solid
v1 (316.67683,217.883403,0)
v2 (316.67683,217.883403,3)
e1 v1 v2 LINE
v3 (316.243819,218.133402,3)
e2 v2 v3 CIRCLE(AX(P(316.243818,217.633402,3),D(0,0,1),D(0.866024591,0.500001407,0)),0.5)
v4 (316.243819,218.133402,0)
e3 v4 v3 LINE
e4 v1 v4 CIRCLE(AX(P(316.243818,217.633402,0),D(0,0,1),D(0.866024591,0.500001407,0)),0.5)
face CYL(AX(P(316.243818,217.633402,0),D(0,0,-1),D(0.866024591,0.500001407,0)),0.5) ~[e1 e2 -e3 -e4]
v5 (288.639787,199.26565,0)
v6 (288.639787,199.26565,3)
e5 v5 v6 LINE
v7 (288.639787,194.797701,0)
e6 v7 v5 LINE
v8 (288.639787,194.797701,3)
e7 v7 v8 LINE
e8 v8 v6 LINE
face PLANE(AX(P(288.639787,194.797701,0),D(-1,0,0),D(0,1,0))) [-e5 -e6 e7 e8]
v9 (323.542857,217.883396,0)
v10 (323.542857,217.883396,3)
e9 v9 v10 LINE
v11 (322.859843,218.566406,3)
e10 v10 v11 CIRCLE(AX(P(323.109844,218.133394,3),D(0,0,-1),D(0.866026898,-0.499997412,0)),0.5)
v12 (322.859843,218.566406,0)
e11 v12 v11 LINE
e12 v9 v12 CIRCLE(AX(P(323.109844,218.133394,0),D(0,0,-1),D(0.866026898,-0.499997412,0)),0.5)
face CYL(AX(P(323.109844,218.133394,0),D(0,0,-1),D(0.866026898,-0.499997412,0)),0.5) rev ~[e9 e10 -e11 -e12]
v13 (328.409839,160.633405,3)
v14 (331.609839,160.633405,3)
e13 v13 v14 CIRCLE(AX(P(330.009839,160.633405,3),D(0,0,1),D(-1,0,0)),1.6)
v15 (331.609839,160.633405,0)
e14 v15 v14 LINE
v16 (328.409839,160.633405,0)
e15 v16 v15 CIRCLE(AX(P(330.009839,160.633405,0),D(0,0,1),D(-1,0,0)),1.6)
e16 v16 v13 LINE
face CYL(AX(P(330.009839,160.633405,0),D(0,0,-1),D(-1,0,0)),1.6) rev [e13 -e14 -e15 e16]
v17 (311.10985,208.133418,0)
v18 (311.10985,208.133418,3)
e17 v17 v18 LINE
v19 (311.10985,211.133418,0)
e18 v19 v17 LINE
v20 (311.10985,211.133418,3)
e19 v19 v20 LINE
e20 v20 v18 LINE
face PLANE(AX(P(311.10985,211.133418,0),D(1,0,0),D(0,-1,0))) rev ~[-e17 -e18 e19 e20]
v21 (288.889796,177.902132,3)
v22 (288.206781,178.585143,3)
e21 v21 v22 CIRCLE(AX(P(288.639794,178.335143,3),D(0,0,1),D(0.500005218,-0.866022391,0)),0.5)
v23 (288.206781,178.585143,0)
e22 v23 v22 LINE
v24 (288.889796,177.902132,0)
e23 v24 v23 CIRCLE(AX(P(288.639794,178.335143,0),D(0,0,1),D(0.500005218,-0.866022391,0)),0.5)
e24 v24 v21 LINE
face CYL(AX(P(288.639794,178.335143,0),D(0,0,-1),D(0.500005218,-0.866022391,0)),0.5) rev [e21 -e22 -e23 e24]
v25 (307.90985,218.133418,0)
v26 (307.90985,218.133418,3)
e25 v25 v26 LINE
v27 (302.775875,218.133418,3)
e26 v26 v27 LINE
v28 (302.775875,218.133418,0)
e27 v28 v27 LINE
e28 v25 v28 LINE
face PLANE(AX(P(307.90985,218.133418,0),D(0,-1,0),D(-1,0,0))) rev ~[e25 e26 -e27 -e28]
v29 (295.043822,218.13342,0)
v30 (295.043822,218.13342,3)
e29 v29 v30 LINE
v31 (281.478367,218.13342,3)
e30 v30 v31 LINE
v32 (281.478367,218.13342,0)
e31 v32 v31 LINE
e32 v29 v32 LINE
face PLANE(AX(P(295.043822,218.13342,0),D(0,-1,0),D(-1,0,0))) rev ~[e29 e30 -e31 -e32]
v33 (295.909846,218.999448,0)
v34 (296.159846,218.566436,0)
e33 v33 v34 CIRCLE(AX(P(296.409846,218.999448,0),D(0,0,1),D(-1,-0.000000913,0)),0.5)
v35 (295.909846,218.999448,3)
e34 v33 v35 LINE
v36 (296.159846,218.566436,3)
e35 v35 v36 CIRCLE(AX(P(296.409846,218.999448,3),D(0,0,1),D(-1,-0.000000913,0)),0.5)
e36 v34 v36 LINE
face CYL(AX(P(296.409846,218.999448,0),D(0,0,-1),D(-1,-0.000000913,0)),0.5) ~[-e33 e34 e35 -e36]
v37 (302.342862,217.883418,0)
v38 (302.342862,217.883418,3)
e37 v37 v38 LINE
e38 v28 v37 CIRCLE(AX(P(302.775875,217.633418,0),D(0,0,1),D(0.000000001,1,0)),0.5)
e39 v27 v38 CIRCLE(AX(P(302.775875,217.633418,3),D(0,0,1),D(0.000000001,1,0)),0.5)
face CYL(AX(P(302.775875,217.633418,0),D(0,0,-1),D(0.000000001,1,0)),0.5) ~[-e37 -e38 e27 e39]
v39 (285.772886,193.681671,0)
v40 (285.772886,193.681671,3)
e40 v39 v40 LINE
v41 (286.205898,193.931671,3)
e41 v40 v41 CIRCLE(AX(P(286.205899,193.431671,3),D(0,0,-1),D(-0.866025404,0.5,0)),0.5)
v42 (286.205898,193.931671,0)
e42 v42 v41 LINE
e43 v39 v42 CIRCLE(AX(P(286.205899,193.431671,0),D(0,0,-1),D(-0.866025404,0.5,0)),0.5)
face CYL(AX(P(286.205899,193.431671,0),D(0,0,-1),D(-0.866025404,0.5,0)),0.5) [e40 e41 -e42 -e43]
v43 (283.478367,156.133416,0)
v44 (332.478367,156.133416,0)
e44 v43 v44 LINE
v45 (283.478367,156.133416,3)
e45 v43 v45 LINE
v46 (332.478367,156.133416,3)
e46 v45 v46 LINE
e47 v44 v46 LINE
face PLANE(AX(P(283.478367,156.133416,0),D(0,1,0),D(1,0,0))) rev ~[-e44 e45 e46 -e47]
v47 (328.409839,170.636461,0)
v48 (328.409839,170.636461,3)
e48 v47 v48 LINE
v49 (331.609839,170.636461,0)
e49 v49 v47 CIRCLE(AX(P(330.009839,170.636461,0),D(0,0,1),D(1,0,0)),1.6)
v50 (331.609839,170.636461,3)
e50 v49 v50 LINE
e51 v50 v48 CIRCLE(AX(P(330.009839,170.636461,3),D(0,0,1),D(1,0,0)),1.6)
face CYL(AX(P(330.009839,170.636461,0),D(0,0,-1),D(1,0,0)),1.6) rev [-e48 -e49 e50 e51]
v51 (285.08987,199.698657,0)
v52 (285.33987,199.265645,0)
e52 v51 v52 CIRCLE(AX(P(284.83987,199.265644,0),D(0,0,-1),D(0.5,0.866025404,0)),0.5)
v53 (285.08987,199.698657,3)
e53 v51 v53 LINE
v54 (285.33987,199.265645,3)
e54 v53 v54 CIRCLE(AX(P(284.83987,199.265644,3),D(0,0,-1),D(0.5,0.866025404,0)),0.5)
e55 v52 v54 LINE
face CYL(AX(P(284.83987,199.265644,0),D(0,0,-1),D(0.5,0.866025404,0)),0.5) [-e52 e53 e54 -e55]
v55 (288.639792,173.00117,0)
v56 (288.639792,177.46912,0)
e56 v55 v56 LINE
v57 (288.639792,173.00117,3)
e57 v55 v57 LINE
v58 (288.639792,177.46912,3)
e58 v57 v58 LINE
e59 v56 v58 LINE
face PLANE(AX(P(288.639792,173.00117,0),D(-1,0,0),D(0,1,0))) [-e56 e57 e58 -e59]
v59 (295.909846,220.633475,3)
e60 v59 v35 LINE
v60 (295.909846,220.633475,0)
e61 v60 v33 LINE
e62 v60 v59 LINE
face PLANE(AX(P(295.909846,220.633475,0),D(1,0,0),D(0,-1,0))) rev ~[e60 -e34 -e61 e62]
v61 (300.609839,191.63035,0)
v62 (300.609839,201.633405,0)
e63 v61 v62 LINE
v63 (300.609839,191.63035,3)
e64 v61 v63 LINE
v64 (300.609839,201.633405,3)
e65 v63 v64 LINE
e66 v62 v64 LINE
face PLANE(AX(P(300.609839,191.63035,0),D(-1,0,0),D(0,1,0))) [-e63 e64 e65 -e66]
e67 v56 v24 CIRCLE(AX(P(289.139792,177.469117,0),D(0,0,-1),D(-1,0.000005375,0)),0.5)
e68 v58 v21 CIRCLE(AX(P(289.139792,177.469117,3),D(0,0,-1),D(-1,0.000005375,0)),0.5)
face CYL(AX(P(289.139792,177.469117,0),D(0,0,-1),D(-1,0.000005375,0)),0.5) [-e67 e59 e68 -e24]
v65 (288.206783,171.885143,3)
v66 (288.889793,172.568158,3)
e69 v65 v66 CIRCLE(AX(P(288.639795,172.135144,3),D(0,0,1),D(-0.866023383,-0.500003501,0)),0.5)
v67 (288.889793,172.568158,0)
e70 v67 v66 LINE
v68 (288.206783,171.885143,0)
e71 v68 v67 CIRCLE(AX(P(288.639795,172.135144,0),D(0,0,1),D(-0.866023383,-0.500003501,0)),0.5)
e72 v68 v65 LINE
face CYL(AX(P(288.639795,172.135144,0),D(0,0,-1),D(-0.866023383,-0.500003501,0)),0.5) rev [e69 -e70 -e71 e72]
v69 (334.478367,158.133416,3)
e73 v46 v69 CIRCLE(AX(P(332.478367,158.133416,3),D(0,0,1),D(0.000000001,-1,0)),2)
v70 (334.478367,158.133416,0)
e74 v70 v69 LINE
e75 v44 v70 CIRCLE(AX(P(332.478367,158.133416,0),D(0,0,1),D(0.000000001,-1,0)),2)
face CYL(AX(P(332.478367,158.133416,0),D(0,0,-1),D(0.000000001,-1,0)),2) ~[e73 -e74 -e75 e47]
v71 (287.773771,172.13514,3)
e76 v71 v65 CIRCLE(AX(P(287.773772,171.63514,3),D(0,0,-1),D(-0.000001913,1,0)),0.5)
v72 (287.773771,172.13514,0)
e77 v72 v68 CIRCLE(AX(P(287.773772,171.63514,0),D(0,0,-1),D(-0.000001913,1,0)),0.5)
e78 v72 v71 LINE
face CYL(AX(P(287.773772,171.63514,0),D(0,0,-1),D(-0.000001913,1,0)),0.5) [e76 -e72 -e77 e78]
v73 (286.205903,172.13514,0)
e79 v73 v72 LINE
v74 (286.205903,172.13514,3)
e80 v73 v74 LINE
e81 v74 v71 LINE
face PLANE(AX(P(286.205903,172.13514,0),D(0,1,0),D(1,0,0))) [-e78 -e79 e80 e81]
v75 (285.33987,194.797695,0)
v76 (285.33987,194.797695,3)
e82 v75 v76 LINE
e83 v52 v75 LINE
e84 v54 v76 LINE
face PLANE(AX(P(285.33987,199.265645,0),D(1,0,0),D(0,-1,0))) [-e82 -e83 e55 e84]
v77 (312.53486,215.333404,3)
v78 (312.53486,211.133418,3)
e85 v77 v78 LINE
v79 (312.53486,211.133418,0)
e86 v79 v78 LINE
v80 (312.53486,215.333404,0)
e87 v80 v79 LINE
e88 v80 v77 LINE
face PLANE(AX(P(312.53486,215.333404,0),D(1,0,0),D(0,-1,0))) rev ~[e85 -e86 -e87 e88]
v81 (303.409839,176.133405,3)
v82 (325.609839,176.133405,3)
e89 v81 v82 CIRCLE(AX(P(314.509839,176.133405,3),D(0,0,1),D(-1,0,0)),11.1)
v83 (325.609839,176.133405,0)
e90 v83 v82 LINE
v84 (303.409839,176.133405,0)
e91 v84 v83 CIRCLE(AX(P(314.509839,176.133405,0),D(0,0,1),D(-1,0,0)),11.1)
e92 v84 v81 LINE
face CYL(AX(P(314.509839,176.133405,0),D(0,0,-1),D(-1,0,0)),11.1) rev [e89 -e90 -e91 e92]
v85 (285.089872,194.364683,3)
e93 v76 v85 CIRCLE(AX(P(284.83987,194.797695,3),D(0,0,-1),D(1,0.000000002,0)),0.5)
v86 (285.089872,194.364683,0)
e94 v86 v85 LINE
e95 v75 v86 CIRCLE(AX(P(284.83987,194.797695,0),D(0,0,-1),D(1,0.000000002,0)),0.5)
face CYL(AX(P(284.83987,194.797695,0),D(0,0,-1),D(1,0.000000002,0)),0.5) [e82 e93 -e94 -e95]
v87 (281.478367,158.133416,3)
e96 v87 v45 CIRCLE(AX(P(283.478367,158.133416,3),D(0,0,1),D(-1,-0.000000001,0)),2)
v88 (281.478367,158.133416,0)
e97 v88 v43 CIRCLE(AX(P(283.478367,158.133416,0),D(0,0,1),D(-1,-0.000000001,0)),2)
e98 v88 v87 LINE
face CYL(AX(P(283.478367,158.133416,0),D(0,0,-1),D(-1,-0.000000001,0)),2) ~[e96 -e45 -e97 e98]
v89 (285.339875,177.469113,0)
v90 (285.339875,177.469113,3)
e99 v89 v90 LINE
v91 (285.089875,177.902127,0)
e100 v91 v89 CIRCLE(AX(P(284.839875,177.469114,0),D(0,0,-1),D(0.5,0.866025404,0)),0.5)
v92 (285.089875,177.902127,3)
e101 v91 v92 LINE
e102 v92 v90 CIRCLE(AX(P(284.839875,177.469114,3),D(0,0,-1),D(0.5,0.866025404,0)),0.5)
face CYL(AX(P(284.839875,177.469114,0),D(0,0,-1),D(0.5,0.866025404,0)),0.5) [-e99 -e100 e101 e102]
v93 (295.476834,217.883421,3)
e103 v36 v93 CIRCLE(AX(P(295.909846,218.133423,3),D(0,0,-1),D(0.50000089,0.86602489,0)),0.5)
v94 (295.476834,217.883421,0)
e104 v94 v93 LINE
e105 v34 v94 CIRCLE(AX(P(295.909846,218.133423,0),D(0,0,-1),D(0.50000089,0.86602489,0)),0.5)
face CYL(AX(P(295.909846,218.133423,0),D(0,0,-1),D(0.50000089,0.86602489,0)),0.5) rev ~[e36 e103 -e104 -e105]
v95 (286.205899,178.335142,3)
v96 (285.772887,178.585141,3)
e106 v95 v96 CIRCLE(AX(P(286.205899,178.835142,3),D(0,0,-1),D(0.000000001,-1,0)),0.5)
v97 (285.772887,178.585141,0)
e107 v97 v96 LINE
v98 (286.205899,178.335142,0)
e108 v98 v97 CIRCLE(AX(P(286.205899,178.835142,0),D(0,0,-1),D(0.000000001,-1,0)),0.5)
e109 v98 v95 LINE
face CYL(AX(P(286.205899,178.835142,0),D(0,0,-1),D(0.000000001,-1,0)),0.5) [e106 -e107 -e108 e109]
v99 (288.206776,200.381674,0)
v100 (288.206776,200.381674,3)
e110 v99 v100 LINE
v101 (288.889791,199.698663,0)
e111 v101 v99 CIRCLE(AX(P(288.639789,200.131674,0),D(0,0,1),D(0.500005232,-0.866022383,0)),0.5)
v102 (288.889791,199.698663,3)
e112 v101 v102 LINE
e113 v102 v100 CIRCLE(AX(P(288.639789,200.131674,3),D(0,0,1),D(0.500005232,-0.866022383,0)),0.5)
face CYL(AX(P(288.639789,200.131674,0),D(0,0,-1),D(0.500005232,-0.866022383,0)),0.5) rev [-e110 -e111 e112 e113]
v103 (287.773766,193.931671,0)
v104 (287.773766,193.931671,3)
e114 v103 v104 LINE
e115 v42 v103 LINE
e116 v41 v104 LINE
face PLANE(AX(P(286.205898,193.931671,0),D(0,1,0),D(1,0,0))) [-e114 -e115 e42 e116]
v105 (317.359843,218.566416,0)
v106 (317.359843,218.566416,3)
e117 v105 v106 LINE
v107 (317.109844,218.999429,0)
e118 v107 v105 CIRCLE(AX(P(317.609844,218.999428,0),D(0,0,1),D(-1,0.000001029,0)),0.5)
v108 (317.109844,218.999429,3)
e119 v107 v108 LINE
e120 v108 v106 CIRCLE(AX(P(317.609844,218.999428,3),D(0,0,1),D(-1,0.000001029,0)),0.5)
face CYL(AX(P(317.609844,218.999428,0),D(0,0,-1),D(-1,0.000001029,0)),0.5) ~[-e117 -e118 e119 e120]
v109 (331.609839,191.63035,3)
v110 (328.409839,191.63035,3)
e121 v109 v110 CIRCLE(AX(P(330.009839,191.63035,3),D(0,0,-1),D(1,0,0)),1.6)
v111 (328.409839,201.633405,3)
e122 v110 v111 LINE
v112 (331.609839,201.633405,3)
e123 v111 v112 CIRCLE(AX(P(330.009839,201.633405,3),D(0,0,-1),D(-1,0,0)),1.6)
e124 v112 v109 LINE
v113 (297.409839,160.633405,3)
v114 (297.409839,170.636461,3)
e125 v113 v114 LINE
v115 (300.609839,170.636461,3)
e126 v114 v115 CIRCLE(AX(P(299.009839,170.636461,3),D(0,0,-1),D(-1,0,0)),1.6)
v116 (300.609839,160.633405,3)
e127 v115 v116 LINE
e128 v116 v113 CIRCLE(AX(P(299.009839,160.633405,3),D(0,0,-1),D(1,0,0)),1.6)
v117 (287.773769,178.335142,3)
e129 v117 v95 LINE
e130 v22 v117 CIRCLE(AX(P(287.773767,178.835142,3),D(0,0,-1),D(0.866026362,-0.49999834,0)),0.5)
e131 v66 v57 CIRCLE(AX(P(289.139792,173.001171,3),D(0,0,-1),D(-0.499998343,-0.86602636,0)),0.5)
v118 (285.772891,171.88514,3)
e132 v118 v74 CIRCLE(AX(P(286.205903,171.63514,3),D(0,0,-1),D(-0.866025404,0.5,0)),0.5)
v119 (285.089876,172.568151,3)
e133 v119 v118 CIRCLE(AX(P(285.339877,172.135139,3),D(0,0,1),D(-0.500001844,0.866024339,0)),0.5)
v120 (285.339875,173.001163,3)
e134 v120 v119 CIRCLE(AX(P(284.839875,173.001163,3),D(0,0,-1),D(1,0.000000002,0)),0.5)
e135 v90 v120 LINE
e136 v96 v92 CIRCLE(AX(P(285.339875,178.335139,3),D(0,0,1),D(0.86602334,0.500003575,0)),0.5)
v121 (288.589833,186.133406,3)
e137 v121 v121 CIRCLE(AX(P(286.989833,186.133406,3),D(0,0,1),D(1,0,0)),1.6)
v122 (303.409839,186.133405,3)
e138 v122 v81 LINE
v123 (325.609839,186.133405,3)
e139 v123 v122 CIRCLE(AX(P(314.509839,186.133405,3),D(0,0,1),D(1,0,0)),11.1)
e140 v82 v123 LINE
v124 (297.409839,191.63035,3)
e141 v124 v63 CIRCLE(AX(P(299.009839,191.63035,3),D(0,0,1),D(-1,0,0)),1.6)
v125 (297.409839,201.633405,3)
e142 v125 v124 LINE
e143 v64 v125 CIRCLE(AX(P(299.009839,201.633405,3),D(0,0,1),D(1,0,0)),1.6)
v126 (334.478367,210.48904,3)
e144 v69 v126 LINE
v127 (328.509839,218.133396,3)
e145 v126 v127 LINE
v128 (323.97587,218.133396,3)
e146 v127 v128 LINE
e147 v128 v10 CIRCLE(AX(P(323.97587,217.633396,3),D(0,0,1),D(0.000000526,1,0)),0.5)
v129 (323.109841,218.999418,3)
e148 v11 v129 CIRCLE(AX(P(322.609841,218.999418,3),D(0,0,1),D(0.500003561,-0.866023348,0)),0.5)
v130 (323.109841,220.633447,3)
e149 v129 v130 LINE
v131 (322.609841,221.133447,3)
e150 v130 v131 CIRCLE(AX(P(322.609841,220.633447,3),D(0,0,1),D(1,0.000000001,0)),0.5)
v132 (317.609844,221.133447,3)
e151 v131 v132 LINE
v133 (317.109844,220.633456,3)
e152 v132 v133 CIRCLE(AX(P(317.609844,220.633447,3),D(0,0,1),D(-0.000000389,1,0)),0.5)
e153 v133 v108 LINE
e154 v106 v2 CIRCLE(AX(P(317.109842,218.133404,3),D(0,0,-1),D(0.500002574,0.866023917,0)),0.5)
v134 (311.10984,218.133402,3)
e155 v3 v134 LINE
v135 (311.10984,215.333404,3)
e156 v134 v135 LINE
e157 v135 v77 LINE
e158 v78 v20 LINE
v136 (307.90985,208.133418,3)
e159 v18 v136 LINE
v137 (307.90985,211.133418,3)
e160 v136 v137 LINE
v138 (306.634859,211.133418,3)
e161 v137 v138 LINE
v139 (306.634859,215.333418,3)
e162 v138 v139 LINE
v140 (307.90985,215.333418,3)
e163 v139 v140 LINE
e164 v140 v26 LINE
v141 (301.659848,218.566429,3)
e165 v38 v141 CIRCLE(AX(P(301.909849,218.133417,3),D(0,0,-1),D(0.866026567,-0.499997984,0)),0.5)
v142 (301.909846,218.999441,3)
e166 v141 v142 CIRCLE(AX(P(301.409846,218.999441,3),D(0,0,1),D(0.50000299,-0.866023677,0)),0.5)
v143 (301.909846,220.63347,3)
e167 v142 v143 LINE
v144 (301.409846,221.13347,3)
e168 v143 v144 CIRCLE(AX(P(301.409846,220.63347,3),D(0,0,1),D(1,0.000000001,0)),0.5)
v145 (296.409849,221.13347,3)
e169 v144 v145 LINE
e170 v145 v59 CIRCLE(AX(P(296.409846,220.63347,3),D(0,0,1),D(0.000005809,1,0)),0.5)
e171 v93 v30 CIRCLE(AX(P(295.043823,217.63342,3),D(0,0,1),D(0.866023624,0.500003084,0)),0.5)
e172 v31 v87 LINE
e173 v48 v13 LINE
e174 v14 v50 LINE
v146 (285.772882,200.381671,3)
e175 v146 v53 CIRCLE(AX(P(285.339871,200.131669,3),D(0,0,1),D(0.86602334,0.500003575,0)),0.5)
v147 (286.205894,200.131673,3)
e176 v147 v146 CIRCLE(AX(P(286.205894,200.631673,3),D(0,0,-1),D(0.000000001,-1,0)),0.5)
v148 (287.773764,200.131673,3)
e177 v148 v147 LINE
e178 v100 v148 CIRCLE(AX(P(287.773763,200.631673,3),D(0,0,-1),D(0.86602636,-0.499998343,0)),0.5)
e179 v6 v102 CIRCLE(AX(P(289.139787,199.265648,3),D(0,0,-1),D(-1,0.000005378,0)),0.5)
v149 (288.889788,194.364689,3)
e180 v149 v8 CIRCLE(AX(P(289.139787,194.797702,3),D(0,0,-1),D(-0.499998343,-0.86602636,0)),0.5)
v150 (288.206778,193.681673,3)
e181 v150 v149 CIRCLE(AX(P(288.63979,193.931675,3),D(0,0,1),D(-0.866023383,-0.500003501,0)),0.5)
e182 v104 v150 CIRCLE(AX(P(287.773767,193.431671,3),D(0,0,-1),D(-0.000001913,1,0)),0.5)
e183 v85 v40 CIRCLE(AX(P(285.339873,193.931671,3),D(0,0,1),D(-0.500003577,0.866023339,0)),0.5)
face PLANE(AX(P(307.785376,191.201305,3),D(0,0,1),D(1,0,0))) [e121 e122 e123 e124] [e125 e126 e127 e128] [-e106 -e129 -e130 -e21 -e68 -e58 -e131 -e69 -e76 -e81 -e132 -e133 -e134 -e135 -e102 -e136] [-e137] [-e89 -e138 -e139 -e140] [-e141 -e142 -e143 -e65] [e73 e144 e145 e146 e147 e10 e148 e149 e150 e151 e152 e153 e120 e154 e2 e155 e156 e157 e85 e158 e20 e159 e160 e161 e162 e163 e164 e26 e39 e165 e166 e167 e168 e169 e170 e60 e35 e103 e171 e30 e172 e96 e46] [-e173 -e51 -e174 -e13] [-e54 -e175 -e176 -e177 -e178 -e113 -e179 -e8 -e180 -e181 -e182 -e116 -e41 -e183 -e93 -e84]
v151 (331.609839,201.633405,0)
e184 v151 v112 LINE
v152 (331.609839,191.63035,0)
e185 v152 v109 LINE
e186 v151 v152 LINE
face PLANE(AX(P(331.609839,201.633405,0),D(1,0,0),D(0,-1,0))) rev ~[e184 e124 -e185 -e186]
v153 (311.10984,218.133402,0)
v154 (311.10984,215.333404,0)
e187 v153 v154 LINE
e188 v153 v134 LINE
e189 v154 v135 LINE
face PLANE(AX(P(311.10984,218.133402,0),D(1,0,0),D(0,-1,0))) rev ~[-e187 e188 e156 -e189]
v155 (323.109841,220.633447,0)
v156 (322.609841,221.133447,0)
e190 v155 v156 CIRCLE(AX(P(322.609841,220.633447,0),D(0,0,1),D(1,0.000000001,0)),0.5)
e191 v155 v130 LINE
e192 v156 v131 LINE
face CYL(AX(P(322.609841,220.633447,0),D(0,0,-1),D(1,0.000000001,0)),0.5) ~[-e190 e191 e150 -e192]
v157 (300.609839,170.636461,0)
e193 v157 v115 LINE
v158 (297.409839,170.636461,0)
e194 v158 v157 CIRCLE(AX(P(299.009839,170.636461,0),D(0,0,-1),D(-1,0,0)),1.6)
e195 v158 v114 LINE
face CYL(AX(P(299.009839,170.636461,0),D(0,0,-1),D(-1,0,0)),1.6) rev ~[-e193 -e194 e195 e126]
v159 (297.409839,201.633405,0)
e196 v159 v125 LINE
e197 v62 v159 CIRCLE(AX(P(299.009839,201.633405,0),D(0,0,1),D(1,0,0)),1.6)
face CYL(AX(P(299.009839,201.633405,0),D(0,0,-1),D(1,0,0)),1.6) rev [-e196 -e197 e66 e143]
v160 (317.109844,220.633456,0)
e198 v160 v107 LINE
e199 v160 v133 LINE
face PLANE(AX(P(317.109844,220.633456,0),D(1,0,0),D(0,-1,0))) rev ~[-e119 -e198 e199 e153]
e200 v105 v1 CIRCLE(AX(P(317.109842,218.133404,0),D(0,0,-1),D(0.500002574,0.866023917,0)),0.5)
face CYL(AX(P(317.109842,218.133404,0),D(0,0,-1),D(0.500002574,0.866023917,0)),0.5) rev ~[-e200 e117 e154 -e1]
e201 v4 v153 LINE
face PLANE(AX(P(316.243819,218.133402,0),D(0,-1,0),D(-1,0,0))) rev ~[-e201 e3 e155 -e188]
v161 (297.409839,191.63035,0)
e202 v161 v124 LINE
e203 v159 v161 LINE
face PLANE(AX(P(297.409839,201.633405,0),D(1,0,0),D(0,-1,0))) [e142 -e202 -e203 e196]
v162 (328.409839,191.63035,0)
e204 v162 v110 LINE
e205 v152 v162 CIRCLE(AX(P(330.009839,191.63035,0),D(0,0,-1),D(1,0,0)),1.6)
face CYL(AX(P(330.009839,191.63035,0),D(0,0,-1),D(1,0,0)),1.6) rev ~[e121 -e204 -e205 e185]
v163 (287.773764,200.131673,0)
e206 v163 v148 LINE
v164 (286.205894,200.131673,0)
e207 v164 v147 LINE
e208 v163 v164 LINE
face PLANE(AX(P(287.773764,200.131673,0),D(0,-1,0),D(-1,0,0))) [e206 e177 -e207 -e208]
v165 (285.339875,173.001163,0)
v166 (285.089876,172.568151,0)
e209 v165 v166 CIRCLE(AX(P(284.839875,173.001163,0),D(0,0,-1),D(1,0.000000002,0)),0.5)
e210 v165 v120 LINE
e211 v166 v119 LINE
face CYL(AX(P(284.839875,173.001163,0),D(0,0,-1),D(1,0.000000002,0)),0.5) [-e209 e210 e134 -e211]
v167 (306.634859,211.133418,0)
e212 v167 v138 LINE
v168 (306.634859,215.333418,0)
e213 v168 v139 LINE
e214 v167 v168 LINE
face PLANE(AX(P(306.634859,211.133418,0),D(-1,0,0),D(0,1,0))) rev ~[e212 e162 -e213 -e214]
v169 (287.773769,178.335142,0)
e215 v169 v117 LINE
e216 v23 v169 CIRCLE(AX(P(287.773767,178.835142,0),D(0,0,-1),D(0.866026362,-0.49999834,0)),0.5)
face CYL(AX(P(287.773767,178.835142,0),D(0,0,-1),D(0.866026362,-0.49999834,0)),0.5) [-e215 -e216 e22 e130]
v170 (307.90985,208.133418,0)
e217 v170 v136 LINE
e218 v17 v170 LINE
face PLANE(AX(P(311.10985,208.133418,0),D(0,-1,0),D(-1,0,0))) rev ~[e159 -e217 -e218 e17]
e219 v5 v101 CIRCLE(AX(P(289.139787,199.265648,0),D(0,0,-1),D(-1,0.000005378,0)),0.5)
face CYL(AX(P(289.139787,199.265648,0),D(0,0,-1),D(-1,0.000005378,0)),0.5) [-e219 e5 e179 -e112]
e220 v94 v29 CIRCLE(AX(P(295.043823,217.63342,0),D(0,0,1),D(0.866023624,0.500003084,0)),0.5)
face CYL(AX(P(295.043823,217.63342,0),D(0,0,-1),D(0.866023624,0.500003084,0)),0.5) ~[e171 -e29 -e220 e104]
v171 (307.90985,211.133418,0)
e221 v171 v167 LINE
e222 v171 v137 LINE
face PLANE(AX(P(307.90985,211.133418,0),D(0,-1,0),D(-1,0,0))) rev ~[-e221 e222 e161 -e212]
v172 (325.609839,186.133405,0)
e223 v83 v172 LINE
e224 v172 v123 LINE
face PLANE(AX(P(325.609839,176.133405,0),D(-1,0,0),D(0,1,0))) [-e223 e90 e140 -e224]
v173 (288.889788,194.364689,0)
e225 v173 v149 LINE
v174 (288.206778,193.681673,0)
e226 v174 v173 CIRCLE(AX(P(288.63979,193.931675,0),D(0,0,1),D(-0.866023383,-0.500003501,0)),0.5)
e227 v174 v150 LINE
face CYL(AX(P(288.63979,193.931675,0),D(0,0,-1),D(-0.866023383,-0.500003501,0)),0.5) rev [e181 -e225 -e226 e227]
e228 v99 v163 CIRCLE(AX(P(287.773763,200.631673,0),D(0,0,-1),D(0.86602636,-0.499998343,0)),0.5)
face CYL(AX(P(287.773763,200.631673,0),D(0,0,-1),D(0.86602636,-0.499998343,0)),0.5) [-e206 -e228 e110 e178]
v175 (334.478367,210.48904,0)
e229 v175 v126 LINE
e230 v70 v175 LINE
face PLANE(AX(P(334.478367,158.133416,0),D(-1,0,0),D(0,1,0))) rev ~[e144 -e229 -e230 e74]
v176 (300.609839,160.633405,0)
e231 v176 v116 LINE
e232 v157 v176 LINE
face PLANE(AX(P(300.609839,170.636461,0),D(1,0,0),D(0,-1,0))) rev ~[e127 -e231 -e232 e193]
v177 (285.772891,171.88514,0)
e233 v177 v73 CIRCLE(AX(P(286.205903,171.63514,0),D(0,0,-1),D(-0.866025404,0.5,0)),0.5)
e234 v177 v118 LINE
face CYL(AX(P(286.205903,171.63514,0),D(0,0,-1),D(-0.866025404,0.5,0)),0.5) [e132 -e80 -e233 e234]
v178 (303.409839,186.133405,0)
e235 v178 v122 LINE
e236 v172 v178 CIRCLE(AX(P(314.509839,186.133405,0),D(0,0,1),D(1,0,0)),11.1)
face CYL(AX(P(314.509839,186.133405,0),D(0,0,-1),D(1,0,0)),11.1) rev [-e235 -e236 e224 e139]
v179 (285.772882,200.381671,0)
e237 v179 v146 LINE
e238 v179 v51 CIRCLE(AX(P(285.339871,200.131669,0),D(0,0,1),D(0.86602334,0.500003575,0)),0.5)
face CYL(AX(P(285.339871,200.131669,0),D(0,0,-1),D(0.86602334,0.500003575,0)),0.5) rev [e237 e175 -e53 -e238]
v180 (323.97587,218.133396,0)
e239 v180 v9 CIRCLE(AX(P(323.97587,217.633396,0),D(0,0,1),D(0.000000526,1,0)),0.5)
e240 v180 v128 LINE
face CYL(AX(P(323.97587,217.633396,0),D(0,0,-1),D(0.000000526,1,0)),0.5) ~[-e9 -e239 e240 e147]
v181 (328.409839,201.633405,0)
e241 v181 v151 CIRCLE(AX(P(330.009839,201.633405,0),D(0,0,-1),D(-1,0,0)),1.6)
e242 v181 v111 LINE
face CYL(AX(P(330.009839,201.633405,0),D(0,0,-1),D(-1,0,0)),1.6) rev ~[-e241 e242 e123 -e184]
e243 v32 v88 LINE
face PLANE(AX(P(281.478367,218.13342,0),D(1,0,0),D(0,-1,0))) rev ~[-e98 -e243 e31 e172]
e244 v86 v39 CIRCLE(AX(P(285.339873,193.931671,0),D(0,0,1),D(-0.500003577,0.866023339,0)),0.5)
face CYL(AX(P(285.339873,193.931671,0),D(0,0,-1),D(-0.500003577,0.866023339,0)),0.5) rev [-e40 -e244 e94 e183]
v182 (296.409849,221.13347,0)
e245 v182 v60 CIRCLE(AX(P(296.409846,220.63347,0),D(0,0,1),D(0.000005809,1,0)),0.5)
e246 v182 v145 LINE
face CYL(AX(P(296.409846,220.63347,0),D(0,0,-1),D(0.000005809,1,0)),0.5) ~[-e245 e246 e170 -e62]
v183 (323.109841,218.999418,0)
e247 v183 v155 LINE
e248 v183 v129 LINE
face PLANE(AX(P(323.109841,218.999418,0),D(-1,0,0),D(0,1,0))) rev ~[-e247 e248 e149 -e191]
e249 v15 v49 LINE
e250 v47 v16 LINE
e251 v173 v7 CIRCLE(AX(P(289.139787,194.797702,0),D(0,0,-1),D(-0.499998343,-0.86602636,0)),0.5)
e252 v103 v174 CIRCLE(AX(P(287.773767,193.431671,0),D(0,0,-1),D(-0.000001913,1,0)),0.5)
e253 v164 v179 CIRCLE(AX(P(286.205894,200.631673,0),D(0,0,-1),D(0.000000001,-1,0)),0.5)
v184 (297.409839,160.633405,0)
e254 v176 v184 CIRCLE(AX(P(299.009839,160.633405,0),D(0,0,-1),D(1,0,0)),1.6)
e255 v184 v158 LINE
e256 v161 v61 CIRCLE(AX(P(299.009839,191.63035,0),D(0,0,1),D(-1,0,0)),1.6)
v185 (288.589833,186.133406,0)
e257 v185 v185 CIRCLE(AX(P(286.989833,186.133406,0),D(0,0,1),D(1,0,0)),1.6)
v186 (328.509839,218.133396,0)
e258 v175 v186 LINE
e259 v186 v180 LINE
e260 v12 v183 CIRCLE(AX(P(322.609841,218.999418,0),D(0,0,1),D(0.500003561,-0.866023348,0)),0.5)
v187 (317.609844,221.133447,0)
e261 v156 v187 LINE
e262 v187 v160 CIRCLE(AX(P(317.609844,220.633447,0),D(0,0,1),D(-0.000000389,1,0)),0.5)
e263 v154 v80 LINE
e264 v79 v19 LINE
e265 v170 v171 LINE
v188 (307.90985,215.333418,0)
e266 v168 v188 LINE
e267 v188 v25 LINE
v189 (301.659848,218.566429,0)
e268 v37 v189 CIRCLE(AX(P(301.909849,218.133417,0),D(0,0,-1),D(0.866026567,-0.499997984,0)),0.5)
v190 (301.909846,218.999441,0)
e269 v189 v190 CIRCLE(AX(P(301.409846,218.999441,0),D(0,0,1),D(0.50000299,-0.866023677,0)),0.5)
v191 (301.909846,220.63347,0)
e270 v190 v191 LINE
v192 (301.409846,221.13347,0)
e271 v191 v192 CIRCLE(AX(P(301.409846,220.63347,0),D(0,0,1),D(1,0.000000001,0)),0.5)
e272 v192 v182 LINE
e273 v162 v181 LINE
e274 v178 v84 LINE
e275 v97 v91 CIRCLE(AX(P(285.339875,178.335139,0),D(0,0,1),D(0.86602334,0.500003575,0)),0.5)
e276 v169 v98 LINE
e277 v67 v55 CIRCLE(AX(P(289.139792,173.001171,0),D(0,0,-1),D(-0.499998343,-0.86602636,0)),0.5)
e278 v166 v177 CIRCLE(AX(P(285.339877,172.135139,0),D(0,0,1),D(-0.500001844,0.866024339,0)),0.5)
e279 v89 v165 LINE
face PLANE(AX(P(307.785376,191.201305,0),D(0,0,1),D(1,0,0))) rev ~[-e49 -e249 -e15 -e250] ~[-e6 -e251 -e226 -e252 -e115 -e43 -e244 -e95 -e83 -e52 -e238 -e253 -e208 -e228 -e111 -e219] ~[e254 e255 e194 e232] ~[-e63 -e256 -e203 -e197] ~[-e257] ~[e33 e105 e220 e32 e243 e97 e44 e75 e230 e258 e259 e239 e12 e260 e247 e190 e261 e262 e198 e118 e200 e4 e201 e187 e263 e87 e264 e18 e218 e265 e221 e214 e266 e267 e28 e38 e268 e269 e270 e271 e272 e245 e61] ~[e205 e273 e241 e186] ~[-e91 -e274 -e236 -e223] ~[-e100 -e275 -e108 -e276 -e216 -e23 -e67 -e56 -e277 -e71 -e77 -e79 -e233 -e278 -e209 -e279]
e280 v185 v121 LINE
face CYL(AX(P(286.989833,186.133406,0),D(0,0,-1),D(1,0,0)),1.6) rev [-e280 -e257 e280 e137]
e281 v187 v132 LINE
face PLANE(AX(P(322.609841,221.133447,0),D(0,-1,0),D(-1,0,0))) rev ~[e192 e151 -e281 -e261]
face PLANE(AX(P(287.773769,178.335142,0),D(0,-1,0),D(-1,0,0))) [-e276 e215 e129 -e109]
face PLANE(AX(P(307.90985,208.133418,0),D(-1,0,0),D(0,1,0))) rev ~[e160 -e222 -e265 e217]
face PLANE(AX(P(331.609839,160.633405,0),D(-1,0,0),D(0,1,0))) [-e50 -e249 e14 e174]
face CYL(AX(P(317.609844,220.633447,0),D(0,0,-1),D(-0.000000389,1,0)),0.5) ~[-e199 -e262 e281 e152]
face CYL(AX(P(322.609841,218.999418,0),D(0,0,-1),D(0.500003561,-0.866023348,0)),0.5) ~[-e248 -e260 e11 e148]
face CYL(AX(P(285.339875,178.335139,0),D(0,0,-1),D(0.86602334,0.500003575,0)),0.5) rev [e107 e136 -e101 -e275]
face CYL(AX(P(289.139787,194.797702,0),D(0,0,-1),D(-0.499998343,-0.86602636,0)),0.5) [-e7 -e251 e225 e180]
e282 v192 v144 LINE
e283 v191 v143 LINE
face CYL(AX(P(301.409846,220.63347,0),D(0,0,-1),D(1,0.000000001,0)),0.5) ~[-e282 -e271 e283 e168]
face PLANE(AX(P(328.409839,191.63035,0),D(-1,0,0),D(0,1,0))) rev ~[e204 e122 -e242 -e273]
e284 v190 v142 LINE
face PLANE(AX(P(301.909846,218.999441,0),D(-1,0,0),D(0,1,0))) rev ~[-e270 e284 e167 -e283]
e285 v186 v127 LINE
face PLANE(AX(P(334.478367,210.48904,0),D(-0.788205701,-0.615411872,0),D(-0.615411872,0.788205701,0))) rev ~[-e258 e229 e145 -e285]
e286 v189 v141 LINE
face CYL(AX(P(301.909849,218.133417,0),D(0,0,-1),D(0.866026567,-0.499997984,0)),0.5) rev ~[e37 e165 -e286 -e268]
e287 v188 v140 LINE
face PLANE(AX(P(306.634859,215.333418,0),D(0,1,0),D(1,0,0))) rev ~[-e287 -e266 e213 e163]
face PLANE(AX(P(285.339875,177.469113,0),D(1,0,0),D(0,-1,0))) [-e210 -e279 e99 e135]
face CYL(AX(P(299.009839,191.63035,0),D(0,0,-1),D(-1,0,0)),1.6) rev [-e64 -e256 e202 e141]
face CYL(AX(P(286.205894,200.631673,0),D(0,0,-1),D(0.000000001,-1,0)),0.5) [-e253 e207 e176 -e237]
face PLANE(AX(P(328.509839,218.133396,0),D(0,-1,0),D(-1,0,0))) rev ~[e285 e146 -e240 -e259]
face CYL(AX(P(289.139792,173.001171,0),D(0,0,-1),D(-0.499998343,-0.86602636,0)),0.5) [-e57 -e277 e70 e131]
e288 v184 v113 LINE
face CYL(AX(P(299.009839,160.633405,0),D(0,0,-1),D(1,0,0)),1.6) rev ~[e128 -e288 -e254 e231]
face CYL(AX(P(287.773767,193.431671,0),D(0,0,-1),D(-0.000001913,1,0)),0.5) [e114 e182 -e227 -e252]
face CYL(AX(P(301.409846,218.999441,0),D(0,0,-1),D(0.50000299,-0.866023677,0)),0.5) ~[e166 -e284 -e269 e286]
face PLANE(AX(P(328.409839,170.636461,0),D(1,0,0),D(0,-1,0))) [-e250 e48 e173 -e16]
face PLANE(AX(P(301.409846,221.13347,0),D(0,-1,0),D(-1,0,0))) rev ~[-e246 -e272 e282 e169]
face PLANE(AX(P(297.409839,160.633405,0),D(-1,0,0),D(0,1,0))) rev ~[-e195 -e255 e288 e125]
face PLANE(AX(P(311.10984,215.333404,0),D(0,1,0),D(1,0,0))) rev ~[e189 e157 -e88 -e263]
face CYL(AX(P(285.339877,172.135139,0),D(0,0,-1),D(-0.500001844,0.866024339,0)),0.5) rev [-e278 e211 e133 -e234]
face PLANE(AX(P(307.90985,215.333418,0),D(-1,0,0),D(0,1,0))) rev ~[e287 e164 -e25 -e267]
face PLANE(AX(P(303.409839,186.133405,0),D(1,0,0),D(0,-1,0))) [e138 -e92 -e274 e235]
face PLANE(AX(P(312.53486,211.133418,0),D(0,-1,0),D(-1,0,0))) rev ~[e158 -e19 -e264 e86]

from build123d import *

# Parameters (mm, degrees)
MODEL_R             = 1.6
BOSS_EXTRUDE1_DEPTH = 3


with BuildPart() as part:
    # Model → Boss-Extrude1 (new body)
    with BuildSketch(Plane.XY):
        with BuildLine():
            Line((295.043822464, 218.133419689), (281.478366665, 218.133419689))
            Line((281.478366665, 218.133419689), (281.478366665, 158.133416479))
            ThreePointArc((281.478366665, 158.133416479), (282.064153103, 156.719202917), (283.478366665, 156.133416479))
            Line((283.478366665, 156.133416479), (332.478366665, 156.133416479))
            ThreePointArc((332.478366665, 156.133416479), (333.892580227, 156.719202917), (334.478366665, 158.133416479))
            Line((334.478366665, 158.133416479), (334.478366665, 210.48904049))
            Line((334.478366665, 210.48904049), (328.509839464, 218.133396046))
            Line((328.509839464, 218.133396046), (323.975870464, 218.133396046))
            ThreePointArc((323.975870464, 218.133396046), (323.725870171, 218.066408731), (323.542857332, 217.883395759))
            ThreePointArc((323.542857332, 217.883395759), (322.756291514, 217.779840053), (322.859842674, 218.566406469))
            ThreePointArc((322.859842674, 218.566406469), (323.042854191, 218.749419176), (323.109840891, 218.999418473))
            Line((323.109840891, 218.999418473), (323.109840891, 220.633447473))
            ThreePointArc((323.109840891, 220.633447473), (322.963394282, 220.987000863), (322.609840891, 221.133447473))
            Line((322.609840891, 221.133447473), (317.609843891, 221.133447473))
            ThreePointArc((317.609843891, 221.133447473), (317.256293472, 220.987003641), (317.109844085, 220.633455522))
            Line((317.109844085, 220.633455522), (317.109844085, 218.999428522))
            ThreePointArc((317.109844085, 218.999428522), (317.176831025, 218.749428628), (317.35984329, 218.566415765))
            ThreePointArc((317.35984329, 218.566415765), (317.463395273, 217.779850295), (316.676829874, 217.883402813))
            ThreePointArc((316.676829874, 217.883402813), (316.49381775, 218.066414713), (316.243818787, 218.133402112))
            Line((316.243818787, 218.133402112), (311.109839721, 218.133402112))
            Line((311.109839721, 218.133402112), (311.109839721, 215.333404229))
            Line((311.109839721, 215.333404229), (312.534860417, 215.333404229))
            Line((312.534860417, 215.333404229), (312.534860417, 211.133417963))
            Line((312.534860417, 211.133417963), (311.109850498, 211.133417963))
            Line((311.109850498, 211.133417963), (311.109850498, 208.133417963))
            Line((311.109850498, 208.133417963), (307.909850498, 208.133417963))
            Line((307.909850498, 208.133417963), (307.909850498, 211.133417963))
            Line((307.909850498, 211.133417963), (306.634859186, 211.133417963))
            Line((306.634859186, 211.133417963), (306.634859186, 215.333417963))
            Line((306.634859186, 215.333417963), (307.909850498, 215.333417963))
            Line((307.909850498, 215.333417963), (307.909850498, 218.133417963))
            Line((307.909850498, 218.133417963), (302.775874676, 218.133417963))
            ThreePointArc((302.775874676, 218.133417963), (302.525874676, 218.066430665), (302.342861974, 217.883417963))
            ThreePointArc((302.342861974, 217.883417963), (301.556296087, 217.779862777), (301.659847768, 218.566429125))
            ThreePointArc((301.659847768, 218.566429125), (301.842859406, 218.749441711), (301.909846272, 218.999440963))
            Line((301.909846272, 218.999440963), (301.909846272, 220.633469963))
            ThreePointArc((301.909846272, 220.633469963), (301.763399662, 220.987023354), (301.409846272, 221.133469963))
            Line((301.409846272, 221.133469963), (296.409849272, 221.133469963))
            ThreePointArc((296.409849272, 221.133469963), (296.056295709, 220.987026085), (295.909846369, 220.633474785))
            Line((295.909846369, 220.633474785), (295.909846369, 218.999447785))
            ThreePointArc((295.909846369, 218.999447785), (295.976833795, 218.749448021), (296.159846417, 218.566435514))
            ThreePointArc((296.159846417, 218.566435514), (296.263399931, 217.779870247), (295.47683433, 217.883421233))
            ThreePointArc((295.47683433, 217.883421233), (295.293821724, 218.066432851), (295.043822464, 218.133419689))
        make_face()
        with Locations((286.989833469, 186.133406309)):
            Circle(MODEL_R, mode=Mode.SUBTRACT)
        with BuildLine():
            Line((325.609838719, 176.133405309), (325.609838719, 186.133405309))
            ThreePointArc((325.609838719, 186.133405309), (314.509838719, 197.233405309), (303.409838719, 186.133405309))
            Line((303.409838719, 186.133405309), (303.409838719, 176.133405309))
            ThreePointArc((303.409838719, 176.133405309), (314.509838719, 165.033405309), (325.609838719, 176.133405309))
        make_face(mode=Mode.SUBTRACT)
        with BuildLine():
            Line((331.609838719, 160.633405309), (331.609838719, 170.636460624))
            ThreePointArc((331.609838719, 170.636460624), (330.009838719, 172.236460624), (328.409838719, 170.636460624))
            Line((328.409838719, 170.636460624), (328.409838719, 160.633405309))
            ThreePointArc((328.409838719, 160.633405309), (330.009838719, 159.033405309), (331.609838719, 160.633405309))
        make_face(mode=Mode.SUBTRACT)
        with BuildLine():
            Line((331.609838719, 201.633405309), (331.609838719, 191.630349994))
            ThreePointArc((331.609838719, 191.630349994), (330.009838719, 190.030349994), (328.409838719, 191.630349994))
            Line((328.409838719, 191.630349994), (328.409838719, 201.633405309))
            ThreePointArc((328.409838719, 201.633405309), (330.009838719, 203.233405309), (331.609838719, 201.633405309))
        make_face(mode=Mode.SUBTRACT)
        with BuildLine():
            Line((297.409838719, 160.633405309), (297.409838719, 170.636460624))
            ThreePointArc((297.409838719, 170.636460624), (299.009838719, 172.236460624), (300.609838719, 170.636460624))
            Line((300.609838719, 170.636460624), (300.609838719, 160.633405309))
            ThreePointArc((300.609838719, 160.633405309), (299.009838719, 159.033405309), (297.409838719, 160.633405309))
        make_face(mode=Mode.SUBTRACT)
        with BuildLine():
            Line((297.409838719, 201.633405309), (297.409838719, 191.630349994))
            ThreePointArc((297.409838719, 191.630349994), (299.009838719, 190.030349994), (300.609838719, 191.630349994))
            Line((300.609838719, 191.630349994), (300.609838719, 201.633405309))
            ThreePointArc((300.609838719, 201.633405309), (299.009838719, 203.233405309), (297.409838719, 201.633405309))
        make_face(mode=Mode.SUBTRACT)
        with BuildLine():
            Line((288.639792166, 173.001169926), (288.639792166, 177.469119926))
            ThreePointArc((288.639792166, 177.469119926), (288.706781285, 177.719120392), (288.889796147, 177.902132238))
            ThreePointArc((288.889796147, 177.902132238), (288.993345727, 178.688698026), (288.206780642, 178.585143097))
            ThreePointArc((288.206780642, 178.585143097), (288.023768466, 178.402130146), (287.773768823, 178.335142269))
            Line((287.773768823, 178.335142269), (286.205898823, 178.335142269))
            ThreePointArc((286.205898823, 178.335142269), (285.955899571, 178.402129135), (285.772886985, 178.585140772))
            ThreePointArc((285.772886985, 178.585140772), (284.986321396, 178.688691846), (285.089874823, 177.902126567))
            ThreePointArc((285.089874823, 177.902126567), (285.272887674, 177.719113607), (285.339874823, 177.469113269))
            Line((285.339874823, 177.469113269), (285.339874823, 173.001163269))
            ThreePointArc((285.339874823, 173.001163269), (285.272887957, 172.751164017), (285.089876319, 172.568151431))
            ThreePointArc((285.089876319, 172.568151431), (284.986324638, 171.781585083), (285.772890525, 171.885140269))
            ThreePointArc((285.772890525, 171.885140269), (285.955903052, 172.06815287), (286.205902823, 172.135140269))
            Line((286.205902823, 172.135140269), (287.773770823, 172.135140269))
            ThreePointArc((287.773770823, 172.135140269), (288.023770203, 172.068153881), (288.206783139, 171.885142594))
            ThreePointArc((288.206783139, 171.885142594), (288.993349685, 171.781592418), (288.889792994, 172.568158106))
            ThreePointArc((288.889792994, 172.568158106), (288.706780043, 172.751170283), (288.639792166, 173.001169926))
        make_face(mode=Mode.SUBTRACT)
        with BuildLine():
            Line((285.339870115, 199.26564477), (285.339870115, 194.79769477))
            ThreePointArc((285.339870115, 194.79769477), (285.272883249, 194.547695518), (285.089871611, 194.364682932))
            ThreePointArc((285.089871611, 194.364682932), (284.986320538, 193.578117343), (285.772885817, 193.68167077))
            ThreePointArc((285.772885817, 193.68167077), (285.955898344, 193.864683371), (286.205898115, 193.93167077))
            Line((286.205898115, 193.93167077), (287.773766115, 193.93167077))
            ThreePointArc((287.773766115, 193.93167077), (288.023765495, 193.864684382), (288.206778431, 193.681673095))
            ThreePointArc((288.206778431, 193.681673095), (288.993344977, 193.578122919), (288.889788286, 194.364688607))
            ThreePointArc((288.889788286, 194.364688607), (288.706775085, 194.547701217), (288.639787458, 194.797701427))
            Line((288.639787458, 194.797701427), (288.639787458, 199.265650427))
            ThreePointArc((288.639787458, 199.265650427), (288.70677658, 199.515650897), (288.889791447, 199.698662743))
            ThreePointArc((288.889791447, 199.698662743), (288.993341016, 200.485228531), (288.206775935, 200.381673598))
            ThreePointArc((288.206775935, 200.381673598), (288.023763758, 200.198660647), (287.773764115, 200.13167277))
            Line((287.773764115, 200.13167277), (286.205894115, 200.13167277))
            ThreePointArc((286.205894115, 200.13167277), (285.955894863, 200.198659636), (285.772882277, 200.381671273))
            ThreePointArc((285.772882277, 200.381671273), (284.986316688, 200.485222347), (285.089870115, 199.698657068))
            ThreePointArc((285.089870115, 199.698657068), (285.272882716, 199.515644541), (285.339870115, 199.26564477))
        make_face(mode=Mode.SUBTRACT)
    extrude(amount=BOSS_EXTRUDE1_DEPTH)


solid = part.part
